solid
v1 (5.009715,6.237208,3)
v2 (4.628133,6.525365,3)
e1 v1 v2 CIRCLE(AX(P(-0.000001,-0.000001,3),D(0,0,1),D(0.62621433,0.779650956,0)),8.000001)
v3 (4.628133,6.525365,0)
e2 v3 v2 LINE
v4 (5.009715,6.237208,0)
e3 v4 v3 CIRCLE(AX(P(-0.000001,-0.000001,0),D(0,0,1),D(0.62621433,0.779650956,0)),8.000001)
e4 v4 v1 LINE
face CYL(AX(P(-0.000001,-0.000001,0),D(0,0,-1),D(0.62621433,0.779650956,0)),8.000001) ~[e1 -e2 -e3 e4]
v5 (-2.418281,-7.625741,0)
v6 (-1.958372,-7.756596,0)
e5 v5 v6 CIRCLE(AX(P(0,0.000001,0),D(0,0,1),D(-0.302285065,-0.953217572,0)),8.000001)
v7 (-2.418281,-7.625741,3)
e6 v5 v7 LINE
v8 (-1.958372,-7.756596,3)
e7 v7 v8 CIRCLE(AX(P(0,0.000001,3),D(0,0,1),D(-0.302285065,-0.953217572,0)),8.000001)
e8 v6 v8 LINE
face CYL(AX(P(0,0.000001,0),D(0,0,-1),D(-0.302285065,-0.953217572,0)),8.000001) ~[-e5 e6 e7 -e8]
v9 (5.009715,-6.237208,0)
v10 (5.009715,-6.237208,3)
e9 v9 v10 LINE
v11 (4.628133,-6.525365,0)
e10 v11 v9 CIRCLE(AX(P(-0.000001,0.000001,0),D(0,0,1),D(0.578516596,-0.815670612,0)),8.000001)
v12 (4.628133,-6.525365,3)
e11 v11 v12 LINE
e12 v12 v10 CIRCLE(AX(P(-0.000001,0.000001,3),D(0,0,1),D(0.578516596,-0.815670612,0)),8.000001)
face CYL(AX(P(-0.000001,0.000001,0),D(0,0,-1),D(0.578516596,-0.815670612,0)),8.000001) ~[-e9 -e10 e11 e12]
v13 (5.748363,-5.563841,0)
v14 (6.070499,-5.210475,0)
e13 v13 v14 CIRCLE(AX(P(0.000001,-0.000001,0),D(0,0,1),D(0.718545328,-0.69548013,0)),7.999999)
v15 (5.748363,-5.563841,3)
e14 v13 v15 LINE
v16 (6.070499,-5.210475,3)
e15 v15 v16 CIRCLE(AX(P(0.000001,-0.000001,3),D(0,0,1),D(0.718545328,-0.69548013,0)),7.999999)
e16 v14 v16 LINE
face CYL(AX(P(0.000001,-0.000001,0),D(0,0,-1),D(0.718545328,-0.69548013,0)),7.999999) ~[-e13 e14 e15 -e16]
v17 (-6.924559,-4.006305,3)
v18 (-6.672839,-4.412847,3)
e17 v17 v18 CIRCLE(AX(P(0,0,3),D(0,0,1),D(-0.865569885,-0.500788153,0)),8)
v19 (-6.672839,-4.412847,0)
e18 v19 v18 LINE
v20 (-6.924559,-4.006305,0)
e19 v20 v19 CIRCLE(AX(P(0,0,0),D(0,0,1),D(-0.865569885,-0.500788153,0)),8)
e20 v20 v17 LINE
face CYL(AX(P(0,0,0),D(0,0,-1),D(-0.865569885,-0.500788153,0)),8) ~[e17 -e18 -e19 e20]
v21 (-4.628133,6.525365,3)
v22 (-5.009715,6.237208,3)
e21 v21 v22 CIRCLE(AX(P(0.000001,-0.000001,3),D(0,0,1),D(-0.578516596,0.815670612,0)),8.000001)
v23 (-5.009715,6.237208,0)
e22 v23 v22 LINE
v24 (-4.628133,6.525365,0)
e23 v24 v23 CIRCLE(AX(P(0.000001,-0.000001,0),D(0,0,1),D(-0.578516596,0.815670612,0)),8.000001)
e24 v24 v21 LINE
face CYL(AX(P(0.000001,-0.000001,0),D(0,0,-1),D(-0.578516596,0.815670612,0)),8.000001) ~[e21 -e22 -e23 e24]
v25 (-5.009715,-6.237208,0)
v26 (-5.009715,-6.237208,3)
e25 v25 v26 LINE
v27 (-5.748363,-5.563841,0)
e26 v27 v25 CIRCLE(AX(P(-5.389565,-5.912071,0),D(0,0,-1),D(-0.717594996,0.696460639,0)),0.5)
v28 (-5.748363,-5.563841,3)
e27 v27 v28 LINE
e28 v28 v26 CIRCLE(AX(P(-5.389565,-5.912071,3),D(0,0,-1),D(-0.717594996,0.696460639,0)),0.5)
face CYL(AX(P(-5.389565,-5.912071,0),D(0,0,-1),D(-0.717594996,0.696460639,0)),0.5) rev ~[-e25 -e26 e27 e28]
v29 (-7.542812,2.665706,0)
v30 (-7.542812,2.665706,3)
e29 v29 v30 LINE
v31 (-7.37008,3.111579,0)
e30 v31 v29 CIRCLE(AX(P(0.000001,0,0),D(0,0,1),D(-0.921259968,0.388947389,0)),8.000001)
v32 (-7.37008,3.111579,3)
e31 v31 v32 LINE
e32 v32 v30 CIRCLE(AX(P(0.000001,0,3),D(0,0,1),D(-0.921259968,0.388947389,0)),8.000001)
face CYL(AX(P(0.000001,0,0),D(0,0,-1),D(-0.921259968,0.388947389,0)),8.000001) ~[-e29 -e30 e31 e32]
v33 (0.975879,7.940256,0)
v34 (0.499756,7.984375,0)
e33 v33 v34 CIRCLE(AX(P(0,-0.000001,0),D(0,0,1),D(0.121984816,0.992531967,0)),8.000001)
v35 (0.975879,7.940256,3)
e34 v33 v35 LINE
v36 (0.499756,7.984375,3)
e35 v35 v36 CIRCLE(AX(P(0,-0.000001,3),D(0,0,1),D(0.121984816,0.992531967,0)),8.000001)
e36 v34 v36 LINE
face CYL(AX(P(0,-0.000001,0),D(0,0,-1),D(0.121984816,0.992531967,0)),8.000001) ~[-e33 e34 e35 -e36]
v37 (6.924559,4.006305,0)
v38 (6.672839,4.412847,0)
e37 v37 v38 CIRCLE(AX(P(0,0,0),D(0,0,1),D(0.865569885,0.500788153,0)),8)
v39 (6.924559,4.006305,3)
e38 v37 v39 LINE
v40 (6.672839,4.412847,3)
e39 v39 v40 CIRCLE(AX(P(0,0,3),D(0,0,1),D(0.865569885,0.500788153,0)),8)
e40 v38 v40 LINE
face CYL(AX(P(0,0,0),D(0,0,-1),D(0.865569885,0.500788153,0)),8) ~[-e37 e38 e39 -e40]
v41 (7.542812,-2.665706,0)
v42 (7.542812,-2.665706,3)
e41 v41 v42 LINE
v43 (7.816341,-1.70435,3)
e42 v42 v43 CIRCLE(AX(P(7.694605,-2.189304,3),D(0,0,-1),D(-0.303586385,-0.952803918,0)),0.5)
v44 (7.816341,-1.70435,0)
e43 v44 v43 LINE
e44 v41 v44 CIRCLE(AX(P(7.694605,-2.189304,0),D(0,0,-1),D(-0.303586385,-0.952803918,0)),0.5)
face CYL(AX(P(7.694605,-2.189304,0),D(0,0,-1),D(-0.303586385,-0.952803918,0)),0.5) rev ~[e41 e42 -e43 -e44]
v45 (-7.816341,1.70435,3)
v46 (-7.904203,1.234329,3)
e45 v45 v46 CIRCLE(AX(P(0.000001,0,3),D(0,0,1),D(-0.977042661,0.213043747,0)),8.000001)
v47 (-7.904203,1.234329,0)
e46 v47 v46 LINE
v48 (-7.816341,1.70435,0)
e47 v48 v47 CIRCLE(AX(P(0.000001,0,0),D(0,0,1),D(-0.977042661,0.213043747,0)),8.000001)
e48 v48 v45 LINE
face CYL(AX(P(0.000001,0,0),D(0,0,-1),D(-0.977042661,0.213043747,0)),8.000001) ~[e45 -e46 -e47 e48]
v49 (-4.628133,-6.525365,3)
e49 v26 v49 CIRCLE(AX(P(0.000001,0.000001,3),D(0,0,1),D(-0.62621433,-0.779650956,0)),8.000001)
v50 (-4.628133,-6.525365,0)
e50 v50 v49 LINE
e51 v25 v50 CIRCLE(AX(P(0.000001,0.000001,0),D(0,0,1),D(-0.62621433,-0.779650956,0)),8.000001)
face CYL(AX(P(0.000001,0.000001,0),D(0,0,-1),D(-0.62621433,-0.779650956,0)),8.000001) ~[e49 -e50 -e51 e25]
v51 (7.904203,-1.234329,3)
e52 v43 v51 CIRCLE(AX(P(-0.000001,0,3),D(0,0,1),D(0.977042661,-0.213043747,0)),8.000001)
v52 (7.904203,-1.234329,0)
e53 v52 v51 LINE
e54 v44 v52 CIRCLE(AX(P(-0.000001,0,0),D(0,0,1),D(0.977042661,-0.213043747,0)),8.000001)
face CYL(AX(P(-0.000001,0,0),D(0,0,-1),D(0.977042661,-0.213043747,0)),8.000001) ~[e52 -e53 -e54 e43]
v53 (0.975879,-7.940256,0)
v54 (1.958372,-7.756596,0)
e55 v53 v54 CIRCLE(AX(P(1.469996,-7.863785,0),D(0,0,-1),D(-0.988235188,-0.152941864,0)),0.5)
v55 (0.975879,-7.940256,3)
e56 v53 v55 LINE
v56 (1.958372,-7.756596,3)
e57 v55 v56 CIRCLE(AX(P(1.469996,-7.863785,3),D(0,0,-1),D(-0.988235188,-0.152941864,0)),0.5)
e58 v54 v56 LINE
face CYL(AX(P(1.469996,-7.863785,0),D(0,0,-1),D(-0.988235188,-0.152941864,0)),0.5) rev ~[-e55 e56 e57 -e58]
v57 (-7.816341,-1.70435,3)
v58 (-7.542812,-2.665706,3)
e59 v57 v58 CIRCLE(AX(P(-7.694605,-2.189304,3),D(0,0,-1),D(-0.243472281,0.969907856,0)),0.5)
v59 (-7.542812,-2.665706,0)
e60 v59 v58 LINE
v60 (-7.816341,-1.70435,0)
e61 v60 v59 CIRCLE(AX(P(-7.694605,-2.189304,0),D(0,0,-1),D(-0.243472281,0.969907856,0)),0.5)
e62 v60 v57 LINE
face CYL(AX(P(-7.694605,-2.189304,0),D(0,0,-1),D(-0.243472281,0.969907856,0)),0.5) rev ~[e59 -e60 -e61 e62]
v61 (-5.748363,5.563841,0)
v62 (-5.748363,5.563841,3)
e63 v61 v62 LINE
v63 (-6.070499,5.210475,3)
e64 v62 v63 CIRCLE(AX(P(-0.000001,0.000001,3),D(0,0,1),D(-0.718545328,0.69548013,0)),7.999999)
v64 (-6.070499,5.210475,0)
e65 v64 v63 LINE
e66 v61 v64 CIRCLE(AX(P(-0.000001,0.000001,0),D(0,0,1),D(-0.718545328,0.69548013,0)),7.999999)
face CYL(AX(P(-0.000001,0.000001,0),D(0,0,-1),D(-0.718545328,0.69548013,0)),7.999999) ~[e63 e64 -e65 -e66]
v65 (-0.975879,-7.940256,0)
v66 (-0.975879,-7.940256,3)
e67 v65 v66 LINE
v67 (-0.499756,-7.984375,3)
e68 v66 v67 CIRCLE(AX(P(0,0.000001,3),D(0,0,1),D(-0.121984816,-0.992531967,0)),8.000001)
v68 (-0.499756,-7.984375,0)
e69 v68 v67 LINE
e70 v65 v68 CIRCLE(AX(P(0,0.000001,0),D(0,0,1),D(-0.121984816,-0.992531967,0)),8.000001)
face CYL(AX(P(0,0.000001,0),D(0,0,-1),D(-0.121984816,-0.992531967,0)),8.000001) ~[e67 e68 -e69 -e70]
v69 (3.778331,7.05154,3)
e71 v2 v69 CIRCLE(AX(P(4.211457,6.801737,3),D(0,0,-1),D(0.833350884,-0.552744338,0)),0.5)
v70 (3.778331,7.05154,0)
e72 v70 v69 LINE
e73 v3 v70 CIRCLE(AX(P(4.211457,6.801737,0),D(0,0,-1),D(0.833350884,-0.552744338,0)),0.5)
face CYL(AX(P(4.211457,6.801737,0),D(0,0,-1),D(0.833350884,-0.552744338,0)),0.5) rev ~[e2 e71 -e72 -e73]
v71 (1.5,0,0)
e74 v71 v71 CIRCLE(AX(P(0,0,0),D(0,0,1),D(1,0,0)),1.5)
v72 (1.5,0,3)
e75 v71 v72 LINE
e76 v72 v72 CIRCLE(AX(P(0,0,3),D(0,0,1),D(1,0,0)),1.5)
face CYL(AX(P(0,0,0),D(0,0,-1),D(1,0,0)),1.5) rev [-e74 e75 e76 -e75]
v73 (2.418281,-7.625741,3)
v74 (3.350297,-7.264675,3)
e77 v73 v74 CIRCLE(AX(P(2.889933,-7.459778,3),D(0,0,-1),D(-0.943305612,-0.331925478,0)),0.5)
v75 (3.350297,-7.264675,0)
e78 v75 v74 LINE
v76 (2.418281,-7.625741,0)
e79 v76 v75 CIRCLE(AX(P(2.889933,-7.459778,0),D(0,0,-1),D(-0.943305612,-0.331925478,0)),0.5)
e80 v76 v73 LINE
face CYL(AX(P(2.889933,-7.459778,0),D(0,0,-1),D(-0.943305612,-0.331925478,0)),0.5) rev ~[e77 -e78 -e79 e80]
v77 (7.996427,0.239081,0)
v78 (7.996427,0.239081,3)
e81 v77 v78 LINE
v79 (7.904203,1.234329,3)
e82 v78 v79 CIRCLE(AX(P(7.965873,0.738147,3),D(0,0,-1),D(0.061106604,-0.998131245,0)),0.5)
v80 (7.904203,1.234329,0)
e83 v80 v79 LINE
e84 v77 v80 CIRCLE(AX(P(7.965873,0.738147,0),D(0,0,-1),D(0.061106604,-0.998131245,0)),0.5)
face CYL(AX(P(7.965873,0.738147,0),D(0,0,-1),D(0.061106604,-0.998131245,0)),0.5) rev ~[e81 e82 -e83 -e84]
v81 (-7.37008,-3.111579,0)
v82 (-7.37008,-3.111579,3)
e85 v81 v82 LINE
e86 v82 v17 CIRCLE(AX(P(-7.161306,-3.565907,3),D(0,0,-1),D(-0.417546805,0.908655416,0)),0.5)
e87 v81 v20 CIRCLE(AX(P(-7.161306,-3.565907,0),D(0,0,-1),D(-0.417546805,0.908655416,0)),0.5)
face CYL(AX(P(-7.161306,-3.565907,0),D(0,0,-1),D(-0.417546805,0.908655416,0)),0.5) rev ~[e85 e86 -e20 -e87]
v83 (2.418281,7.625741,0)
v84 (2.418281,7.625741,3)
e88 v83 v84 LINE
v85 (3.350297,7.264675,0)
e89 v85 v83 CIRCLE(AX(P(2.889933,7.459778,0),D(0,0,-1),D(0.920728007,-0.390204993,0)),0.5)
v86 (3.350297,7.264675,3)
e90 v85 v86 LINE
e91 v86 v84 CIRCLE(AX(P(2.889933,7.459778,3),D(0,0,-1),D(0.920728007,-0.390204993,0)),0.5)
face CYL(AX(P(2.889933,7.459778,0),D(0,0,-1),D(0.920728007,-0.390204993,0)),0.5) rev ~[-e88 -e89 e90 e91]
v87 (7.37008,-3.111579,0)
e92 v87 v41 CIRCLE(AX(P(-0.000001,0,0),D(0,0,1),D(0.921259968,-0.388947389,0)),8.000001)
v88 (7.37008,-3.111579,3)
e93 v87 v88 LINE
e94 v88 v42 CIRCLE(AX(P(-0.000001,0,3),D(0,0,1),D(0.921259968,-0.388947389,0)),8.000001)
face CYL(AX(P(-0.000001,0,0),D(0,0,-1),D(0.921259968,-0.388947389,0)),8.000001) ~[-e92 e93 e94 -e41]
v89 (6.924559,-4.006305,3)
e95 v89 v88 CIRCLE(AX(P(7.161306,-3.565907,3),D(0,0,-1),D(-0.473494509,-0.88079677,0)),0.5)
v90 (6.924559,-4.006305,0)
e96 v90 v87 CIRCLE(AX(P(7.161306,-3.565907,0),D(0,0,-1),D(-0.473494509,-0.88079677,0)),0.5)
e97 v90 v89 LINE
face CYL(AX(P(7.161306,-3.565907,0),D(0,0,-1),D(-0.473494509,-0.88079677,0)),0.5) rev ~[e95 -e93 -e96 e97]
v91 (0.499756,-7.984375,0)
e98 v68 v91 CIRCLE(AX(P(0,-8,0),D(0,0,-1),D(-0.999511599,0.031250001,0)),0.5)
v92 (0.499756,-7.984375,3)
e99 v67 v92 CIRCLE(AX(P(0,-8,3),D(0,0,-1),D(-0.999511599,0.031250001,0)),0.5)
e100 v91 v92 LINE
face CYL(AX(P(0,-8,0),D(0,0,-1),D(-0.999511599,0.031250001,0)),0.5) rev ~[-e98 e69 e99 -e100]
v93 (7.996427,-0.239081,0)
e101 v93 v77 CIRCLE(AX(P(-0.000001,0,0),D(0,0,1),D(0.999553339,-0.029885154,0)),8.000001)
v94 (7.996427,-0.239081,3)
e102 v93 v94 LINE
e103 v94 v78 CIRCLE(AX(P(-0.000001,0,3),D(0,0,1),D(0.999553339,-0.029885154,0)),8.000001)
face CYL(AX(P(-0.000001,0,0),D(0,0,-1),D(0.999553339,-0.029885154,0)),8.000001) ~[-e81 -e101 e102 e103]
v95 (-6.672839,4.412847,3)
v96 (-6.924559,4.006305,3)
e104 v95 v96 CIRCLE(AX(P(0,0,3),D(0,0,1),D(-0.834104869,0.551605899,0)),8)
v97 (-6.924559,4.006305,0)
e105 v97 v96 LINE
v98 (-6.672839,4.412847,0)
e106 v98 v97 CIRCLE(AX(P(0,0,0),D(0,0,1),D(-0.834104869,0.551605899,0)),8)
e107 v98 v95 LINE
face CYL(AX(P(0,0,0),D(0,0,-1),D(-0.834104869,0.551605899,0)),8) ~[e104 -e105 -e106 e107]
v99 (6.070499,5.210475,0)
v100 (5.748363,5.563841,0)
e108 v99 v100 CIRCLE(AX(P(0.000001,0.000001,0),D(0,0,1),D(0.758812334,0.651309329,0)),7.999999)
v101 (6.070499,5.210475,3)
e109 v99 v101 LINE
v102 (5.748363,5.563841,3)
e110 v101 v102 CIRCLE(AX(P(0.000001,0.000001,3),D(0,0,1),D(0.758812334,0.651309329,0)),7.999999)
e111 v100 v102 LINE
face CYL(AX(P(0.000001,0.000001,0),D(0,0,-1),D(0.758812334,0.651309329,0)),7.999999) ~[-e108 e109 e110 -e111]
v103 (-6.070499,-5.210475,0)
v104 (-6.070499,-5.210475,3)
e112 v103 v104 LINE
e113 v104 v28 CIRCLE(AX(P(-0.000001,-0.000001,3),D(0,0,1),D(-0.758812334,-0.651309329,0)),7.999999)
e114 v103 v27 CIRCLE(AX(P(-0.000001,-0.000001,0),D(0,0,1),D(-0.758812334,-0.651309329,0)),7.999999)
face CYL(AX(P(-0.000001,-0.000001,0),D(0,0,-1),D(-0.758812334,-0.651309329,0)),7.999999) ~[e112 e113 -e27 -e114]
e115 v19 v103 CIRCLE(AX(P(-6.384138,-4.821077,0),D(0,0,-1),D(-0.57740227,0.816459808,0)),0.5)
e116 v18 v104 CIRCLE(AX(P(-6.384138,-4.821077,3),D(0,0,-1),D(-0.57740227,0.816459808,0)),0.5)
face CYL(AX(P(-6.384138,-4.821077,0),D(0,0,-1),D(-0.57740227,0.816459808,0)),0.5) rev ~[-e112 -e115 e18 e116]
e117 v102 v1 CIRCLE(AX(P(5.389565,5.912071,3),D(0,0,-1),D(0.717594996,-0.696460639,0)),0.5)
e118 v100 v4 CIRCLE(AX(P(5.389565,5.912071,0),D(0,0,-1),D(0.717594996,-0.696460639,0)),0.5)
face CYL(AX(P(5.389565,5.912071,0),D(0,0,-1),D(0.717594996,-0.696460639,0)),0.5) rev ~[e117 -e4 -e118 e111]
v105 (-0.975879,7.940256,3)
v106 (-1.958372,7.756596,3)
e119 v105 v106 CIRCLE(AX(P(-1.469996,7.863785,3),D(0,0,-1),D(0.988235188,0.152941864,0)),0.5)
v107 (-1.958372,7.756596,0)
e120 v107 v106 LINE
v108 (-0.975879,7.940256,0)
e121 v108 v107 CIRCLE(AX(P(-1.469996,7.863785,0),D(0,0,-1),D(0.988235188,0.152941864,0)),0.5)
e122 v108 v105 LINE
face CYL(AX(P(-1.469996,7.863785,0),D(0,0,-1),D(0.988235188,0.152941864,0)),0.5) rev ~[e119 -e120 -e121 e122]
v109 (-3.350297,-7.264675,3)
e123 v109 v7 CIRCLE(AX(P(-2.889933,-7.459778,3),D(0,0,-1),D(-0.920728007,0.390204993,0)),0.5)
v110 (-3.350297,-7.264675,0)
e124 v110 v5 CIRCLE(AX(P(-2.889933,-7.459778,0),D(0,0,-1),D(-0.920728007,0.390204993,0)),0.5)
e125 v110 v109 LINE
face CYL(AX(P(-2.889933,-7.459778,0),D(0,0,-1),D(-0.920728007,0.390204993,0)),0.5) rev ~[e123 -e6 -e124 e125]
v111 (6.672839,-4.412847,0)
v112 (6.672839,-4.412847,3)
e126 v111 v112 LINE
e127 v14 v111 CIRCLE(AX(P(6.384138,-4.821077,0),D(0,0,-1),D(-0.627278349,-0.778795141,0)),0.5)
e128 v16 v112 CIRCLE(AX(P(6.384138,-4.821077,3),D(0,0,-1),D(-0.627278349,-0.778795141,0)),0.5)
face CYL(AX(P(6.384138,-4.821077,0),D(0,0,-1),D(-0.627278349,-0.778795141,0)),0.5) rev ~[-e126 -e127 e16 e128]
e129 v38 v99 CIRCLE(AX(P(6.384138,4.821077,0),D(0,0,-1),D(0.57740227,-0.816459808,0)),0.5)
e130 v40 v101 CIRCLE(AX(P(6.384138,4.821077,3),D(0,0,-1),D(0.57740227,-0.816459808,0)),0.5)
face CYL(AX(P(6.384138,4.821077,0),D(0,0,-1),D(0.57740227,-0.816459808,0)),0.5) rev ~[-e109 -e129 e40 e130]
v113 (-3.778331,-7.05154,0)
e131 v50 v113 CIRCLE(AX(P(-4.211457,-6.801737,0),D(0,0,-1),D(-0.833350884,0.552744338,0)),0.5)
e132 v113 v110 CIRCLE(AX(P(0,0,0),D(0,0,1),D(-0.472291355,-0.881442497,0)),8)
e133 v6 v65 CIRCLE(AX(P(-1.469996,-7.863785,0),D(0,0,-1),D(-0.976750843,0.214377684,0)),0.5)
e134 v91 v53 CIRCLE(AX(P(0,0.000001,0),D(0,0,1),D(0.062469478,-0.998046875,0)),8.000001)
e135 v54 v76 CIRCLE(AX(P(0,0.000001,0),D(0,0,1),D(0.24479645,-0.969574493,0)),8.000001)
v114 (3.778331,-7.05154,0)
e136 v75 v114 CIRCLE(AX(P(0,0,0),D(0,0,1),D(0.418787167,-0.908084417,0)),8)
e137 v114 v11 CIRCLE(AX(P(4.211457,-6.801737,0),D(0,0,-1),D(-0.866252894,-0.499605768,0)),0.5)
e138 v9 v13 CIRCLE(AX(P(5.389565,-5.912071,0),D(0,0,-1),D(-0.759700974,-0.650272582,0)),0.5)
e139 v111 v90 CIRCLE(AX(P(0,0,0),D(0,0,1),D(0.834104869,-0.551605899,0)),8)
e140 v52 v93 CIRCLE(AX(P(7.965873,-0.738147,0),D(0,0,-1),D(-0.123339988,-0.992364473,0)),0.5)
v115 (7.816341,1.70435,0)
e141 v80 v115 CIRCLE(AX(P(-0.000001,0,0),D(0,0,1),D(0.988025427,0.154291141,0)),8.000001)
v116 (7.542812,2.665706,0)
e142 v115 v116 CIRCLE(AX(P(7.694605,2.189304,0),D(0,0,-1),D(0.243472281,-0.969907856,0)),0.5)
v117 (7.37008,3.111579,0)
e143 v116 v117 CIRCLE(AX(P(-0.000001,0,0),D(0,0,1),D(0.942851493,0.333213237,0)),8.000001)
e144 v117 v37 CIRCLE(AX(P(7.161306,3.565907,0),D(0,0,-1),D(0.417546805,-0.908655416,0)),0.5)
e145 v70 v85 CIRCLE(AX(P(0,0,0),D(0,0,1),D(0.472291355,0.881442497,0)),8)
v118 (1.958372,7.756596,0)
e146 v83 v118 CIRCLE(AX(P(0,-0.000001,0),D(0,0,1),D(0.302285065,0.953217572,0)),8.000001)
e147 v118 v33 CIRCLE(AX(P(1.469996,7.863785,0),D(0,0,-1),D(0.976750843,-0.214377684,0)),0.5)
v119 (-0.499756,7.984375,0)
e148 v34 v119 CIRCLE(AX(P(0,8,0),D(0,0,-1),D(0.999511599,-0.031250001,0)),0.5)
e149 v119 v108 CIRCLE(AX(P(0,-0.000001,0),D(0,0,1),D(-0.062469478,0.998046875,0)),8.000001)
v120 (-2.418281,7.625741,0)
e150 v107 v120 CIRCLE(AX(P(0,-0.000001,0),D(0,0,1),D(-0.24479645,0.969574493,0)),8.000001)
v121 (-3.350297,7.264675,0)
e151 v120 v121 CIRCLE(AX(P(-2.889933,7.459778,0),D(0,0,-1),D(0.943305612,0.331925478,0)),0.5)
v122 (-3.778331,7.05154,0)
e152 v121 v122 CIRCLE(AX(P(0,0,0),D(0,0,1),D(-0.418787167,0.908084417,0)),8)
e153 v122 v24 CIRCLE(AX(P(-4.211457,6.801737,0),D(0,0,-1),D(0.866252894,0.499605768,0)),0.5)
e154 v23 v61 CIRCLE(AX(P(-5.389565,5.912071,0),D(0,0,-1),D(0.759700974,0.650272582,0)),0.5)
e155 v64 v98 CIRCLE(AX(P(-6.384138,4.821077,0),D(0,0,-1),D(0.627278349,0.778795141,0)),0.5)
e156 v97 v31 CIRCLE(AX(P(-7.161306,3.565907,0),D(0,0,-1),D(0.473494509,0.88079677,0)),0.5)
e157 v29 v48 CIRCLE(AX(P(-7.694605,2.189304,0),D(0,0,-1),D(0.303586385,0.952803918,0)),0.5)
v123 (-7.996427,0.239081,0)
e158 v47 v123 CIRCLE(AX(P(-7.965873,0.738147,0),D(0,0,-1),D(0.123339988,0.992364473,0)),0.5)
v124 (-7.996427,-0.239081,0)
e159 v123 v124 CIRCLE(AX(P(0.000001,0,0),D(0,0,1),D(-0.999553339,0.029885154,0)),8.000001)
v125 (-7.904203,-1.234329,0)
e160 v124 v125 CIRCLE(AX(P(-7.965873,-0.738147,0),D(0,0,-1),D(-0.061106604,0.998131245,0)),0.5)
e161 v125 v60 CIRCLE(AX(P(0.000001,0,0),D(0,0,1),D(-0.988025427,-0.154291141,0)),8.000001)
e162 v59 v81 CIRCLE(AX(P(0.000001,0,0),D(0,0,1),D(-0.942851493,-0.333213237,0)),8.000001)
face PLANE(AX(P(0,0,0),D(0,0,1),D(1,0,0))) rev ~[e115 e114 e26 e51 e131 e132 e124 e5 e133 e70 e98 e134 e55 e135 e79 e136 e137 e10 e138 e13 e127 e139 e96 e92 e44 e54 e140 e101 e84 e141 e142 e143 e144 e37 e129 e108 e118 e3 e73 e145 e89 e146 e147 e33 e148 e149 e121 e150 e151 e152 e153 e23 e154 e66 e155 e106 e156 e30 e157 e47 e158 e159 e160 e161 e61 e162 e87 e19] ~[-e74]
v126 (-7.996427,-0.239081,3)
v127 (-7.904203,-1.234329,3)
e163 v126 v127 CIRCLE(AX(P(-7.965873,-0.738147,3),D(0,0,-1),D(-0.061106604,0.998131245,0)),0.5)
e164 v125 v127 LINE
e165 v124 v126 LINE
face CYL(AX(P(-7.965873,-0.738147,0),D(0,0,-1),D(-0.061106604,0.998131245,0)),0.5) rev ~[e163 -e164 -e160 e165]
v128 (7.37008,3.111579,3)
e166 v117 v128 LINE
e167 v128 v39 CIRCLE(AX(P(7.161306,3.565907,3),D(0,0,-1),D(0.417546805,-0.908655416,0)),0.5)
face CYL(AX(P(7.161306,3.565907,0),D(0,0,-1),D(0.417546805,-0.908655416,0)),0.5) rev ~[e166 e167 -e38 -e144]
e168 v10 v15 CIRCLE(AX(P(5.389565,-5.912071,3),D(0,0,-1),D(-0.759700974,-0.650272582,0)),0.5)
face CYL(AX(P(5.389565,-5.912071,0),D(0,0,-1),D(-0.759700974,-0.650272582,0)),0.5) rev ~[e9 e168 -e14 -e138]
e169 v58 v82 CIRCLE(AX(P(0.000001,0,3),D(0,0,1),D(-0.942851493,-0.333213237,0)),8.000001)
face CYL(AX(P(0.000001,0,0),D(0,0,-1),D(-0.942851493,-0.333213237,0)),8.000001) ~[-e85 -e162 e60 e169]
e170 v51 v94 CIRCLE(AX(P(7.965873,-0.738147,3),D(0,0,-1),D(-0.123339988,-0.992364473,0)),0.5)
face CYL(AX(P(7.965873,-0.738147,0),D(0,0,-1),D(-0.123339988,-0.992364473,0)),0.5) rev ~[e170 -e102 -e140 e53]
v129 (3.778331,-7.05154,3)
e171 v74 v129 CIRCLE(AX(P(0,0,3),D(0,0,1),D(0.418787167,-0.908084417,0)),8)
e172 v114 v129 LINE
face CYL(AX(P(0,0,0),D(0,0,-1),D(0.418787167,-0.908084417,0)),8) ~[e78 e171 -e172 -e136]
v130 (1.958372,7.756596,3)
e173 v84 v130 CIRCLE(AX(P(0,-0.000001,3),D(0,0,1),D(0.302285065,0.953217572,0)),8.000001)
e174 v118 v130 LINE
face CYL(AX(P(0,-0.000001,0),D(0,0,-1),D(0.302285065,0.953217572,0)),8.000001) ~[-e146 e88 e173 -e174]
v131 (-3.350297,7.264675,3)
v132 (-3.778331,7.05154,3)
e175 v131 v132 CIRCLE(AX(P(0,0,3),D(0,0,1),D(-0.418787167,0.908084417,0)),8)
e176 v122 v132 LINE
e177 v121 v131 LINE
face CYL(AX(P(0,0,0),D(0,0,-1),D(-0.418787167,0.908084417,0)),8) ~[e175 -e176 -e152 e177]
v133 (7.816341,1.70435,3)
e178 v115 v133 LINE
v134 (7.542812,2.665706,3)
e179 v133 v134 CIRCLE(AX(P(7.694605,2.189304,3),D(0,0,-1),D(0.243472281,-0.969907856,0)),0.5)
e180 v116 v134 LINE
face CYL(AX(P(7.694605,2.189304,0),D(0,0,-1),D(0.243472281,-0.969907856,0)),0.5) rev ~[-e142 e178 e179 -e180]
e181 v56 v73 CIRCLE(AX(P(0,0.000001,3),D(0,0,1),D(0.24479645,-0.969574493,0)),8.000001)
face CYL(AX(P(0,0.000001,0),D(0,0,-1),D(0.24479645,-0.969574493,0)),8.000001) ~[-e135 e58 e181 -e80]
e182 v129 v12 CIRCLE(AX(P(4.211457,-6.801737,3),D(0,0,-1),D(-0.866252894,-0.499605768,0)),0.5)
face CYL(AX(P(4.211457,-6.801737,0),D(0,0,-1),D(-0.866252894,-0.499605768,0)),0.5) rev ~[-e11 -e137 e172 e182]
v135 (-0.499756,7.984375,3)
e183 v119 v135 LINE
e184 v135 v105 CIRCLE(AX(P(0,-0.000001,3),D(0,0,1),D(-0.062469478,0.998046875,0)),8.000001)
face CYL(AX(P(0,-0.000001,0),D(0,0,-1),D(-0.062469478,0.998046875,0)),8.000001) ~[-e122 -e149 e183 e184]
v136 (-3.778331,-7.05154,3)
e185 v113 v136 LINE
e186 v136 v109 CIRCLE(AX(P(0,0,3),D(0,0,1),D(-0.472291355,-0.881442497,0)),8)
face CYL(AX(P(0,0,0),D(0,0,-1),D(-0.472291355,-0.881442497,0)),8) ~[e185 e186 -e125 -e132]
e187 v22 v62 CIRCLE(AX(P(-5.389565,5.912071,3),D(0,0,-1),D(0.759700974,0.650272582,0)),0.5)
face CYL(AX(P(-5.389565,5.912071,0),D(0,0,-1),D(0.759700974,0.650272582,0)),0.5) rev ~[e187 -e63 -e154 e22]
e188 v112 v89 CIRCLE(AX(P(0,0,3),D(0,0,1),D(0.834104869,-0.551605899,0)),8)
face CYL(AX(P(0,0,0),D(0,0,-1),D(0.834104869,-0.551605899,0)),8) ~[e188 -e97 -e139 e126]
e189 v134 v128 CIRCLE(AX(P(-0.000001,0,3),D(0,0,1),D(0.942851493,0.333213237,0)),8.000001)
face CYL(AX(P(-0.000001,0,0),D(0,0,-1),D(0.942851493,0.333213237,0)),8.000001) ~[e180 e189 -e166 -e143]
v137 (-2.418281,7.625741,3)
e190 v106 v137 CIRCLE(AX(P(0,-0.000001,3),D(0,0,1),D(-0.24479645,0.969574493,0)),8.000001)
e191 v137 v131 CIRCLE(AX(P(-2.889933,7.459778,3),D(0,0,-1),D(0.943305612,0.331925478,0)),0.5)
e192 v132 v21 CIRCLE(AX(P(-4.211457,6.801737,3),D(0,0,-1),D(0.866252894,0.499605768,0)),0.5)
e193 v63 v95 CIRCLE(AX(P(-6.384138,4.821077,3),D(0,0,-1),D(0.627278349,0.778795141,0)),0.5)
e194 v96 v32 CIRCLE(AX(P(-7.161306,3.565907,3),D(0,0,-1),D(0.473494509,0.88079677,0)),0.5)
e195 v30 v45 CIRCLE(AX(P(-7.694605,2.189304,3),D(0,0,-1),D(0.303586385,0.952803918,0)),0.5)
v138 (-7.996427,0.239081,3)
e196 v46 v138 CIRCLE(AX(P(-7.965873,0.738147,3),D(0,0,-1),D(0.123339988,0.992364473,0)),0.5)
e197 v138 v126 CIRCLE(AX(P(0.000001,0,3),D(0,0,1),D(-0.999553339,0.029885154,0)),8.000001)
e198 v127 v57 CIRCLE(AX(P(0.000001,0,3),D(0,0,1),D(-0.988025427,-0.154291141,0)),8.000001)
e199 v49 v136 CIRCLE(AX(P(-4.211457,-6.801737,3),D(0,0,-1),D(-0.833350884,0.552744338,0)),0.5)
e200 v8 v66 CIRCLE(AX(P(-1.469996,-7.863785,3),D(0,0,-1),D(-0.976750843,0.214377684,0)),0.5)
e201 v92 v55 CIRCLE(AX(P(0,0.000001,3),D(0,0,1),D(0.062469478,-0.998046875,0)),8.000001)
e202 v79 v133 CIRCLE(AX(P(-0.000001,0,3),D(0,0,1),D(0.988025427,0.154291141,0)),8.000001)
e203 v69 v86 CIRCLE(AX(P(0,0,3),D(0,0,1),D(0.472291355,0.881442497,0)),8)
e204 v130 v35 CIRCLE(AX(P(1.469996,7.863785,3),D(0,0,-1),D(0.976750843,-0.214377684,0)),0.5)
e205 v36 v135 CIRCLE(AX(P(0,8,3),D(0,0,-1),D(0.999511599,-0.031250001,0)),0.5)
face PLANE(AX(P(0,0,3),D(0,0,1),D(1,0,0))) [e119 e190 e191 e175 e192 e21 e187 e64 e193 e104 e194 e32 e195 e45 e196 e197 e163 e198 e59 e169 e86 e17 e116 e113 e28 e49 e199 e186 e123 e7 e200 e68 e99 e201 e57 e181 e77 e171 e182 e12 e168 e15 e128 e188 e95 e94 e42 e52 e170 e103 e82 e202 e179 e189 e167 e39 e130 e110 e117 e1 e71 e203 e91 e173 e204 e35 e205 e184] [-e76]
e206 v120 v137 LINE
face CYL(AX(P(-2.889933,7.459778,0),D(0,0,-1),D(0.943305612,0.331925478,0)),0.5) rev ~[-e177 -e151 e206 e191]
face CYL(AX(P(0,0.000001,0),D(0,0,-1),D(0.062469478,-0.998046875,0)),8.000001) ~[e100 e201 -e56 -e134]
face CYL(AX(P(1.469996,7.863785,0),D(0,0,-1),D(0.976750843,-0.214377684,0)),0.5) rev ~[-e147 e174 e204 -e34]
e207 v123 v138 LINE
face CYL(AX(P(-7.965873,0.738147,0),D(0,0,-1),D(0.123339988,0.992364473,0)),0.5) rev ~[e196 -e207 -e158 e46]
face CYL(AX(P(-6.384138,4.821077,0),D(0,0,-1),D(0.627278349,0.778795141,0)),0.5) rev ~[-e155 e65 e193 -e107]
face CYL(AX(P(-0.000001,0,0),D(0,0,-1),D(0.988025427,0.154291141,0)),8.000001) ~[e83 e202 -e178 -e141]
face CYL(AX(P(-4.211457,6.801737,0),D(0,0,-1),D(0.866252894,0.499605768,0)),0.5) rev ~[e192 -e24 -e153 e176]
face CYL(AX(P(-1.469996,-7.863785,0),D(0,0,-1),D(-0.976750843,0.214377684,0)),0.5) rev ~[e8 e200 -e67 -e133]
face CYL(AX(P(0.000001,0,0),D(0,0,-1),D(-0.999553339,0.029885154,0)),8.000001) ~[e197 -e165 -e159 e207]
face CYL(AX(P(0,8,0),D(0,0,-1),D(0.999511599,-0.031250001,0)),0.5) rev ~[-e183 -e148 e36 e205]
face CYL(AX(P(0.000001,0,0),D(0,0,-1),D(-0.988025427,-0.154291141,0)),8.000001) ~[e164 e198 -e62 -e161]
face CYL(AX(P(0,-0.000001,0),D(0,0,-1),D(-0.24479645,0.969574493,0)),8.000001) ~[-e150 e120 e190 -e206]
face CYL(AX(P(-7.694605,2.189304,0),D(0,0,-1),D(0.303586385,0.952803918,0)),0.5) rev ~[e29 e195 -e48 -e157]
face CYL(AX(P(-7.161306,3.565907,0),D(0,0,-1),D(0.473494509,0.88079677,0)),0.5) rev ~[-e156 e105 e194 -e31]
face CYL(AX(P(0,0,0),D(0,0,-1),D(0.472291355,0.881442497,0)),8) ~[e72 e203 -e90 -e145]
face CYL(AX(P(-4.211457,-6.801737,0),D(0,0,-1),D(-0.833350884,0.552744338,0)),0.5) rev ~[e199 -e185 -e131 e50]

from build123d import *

# Parameters (mm, degrees)
SKETCH1_R           = 1.5
BOSS_EXTRUDE1_DEPTH = 3


with BuildPart() as part:
    # Sketch1 → Boss-Extrude1 (new body)
    with BuildSketch(Plane.XY):
        with BuildLine():
            ThreePointArc((-0.4997558, 7.984375), (-0.738146876, 7.96587341), (-0.975878549, 7.94025573))
            ThreePointArc((-0.975878549, 7.94025573), (-1.378121384, 7.372298248), (-1.958371564, 7.756595956))
            ThreePointArc((-1.958371564, 7.756595956), (-2.189303921, 7.694605145), (-2.418280524, 7.625740574))
            ThreePointArc((-2.418280524, 7.625740574), (-2.709312496, 6.993541721), (-3.350297333, 7.264675339))
            ThreePointArc((-3.350297333, 7.264675339), (-3.565906846, 7.161306331), (-3.778330856, 7.05153997))
            ThreePointArc((-3.778330856, 7.05153997), (-3.948241222, 6.376628518), (-4.628132745, 6.525364917))
            ThreePointArc((-4.628132745, 6.525364917), (-4.821077091, 6.384137818), (-5.009714662, 6.237207629))
            ThreePointArc((-5.009714662, 6.237207629), (-5.052717327, 5.542566879), (-5.748362647, 5.563841018))
            ThreePointArc((-5.748362647, 5.563841018), (-5.912071338, 5.389565149), (-6.070498644, 5.210474662))
            ThreePointArc((-6.070498644, 5.210474662), (-5.985129205, 4.519759773), (-6.672838954, 4.412847187))
            ThreePointArc((-6.672838954, 4.412847187), (-6.801737086, 4.211457303), (-6.924559076, 4.006305231))
            ThreePointArc((-6.924559076, 4.006305231), (-6.713724685, 3.343037668), (-7.370079733, 3.111579138))
            ThreePointArc((-7.370079733, 3.111579138), (-7.459777835, 2.889933329), (-7.542811953, 2.66570588))
            ThreePointArc((-7.542811953, 2.66570588), (-7.213692324, 2.052472426), (-7.816341286, 1.704349993))
            ThreePointArc((-7.816341286, 1.704349993), (-7.863784797, 1.469996143), (-7.904203416, 1.234329112))
            ThreePointArc((-7.904203416, 1.234329112), (-7.468006322, 0.692012696), (-7.996426712, 0.239081253))
            ThreePointArc((-7.996426712, 0.239081253), (-8, 0), (-7.996426712, -0.239081253))
            ThreePointArc((-7.996426712, -0.239081253), (-7.468006322, -0.692012696), (-7.904203416, -1.234329112))
            ThreePointArc((-7.904203416, -1.234329112), (-7.863784797, -1.469996143), (-7.816341286, -1.704349993))
            ThreePointArc((-7.816341286, -1.704349993), (-7.213692324, -2.052472426), (-7.542811953, -2.66570588))
            ThreePointArc((-7.542811953, -2.66570588), (-7.459777835, -2.889933329), (-7.370079733, -3.111579138))
            ThreePointArc((-7.370079733, -3.111579138), (-6.713724685, -3.343037668), (-6.924559076, -4.006305231))
            ThreePointArc((-6.924559076, -4.006305231), (-6.801737086, -4.211457303), (-6.672838954, -4.412847187))
            ThreePointArc((-6.672838954, -4.412847187), (-5.985129205, -4.519759773), (-6.070498644, -5.210474662))
            ThreePointArc((-6.070498644, -5.210474662), (-5.912071338, -5.389565149), (-5.748362647, -5.563841018))
            ThreePointArc((-5.748362647, -5.563841018), (-5.052717327, -5.542566879), (-5.009714662, -6.237207629))
            ThreePointArc((-5.009714662, -6.237207629), (-4.821077091, -6.384137818), (-4.628132745, -6.525364917))
            ThreePointArc((-4.628132745, -6.525364917), (-3.948241222, -6.376628518), (-3.778330856, -7.05153997))
            ThreePointArc((-3.778330856, -7.05153997), (-3.565906846, -7.161306331), (-3.350297333, -7.264675339))
            ThreePointArc((-3.350297333, -7.264675339), (-2.709312496, -6.993541721), (-2.418280524, -7.625740574))
            ThreePointArc((-2.418280524, -7.625740574), (-2.189303921, -7.694605145), (-1.958371564, -7.756595956))
            ThreePointArc((-1.958371564, -7.756595956), (-1.378121384, -7.372298248), (-0.975878549, -7.94025573))
            ThreePointArc((-0.975878549, -7.94025573), (-0.738146876, -7.96587341), (-0.4997558, -7.984375))
            ThreePointArc((-0.4997558, -7.984375), (0, -7.5), (0.4997558, -7.984375))
            ThreePointArc((0.4997558, -7.984375), (0.738146876, -7.96587341), (0.975878549, -7.94025573))
            ThreePointArc((0.975878549, -7.94025573), (1.378121384, -7.372298248), (1.958371564, -7.756595956))
            ThreePointArc((1.958371564, -7.756595956), (2.189303921, -7.694605145), (2.418280524, -7.625740574))
            ThreePointArc((2.418280524, -7.625740574), (2.709312496, -6.993541721), (3.350297333, -7.264675339))
            ThreePointArc((3.350297333, -7.264675339), (3.565906846, -7.161306331), (3.778330856, -7.05153997))
            ThreePointArc((3.778330856, -7.05153997), (3.948241222, -6.376628518), (4.628132745, -6.525364917))
            ThreePointArc((4.628132745, -6.525364917), (4.821077091, -6.384137818), (5.009714662, -6.237207629))
            ThreePointArc((5.009714662, -6.237207629), (5.052717327, -5.542566879), (5.748362647, -5.563841018))
            ThreePointArc((5.748362647, -5.563841018), (5.912071338, -5.389565149), (6.070498644, -5.210474662))
            ThreePointArc((6.070498644, -5.210474662), (5.985129205, -4.519759773), (6.672838954, -4.412847187))
            ThreePointArc((6.672838954, -4.412847187), (6.801737086, -4.211457303), (6.924559076, -4.006305231))
            ThreePointArc((6.924559076, -4.006305231), (6.713724685, -3.343037668), (7.370079733, -3.111579138))
            ThreePointArc((7.370079733, -3.111579138), (7.459777835, -2.889933329), (7.542811953, -2.66570588))
            ThreePointArc((7.542811953, -2.66570588), (7.213692324, -2.052472426), (7.816341286, -1.704349993))
            ThreePointArc((7.816341286, -1.704349993), (7.863784797, -1.469996143), (7.904203416, -1.234329112))
            ThreePointArc((7.904203416, -1.234329112), (7.468006322, -0.692012696), (7.996426712, -0.239081253))
            ThreePointArc((7.996426712, -0.239081253), (8, 0), (7.996426712, 0.239081253))
            ThreePointArc((7.996426712, 0.239081253), (7.468006322, 0.692012696), (7.904203416, 1.234329112))
            ThreePointArc((7.904203416, 1.234329112), (7.863784797, 1.469996143), (7.816341286, 1.704349993))
            ThreePointArc((7.816341286, 1.704349993), (7.213692324, 2.052472426), (7.542811953, 2.66570588))
            ThreePointArc((7.542811953, 2.66570588), (7.459777835, 2.889933329), (7.370079733, 3.111579138))
            ThreePointArc((7.370079733, 3.111579138), (6.713724685, 3.343037668), (6.924559076, 4.006305231))
            ThreePointArc((6.924559076, 4.006305231), (6.801737086, 4.211457303), (6.672838954, 4.412847187))
            ThreePointArc((6.672838954, 4.412847187), (5.985129205, 4.519759773), (6.070498644, 5.210474662))
            ThreePointArc((6.070498644, 5.210474662), (5.912071338, 5.389565149), (5.748362647, 5.563841018))
            ThreePointArc((5.748362647, 5.563841018), (5.052717327, 5.542566879), (5.009714662, 6.237207629))
            ThreePointArc((5.009714662, 6.237207629), (4.821077091, 6.384137818), (4.628132745, 6.525364917))
            ThreePointArc((4.628132745, 6.525364917), (3.948241222, 6.376628518), (3.778330856, 7.05153997))
            ThreePointArc((3.778330856, 7.05153997), (3.565906846, 7.161306331), (3.350297333, 7.264675339))
            ThreePointArc((3.350297333, 7.264675339), (2.709312496, 6.993541721), (2.418280524, 7.625740574))
            ThreePointArc((2.418280524, 7.625740574), (2.189303921, 7.694605145), (1.958371564, 7.756595956))
            ThreePointArc((1.958371564, 7.756595956), (1.378121384, 7.372298248), (0.975878549, 7.94025573))
            ThreePointArc((0.975878549, 7.94025573), (0.738146876, 7.96587341), (0.4997558, 7.984375))
            ThreePointArc((0.4997558, 7.984375), (0, 7.5), (-0.4997558, 7.984375))
        make_face()
        Circle(SKETCH1_R, mode=Mode.SUBTRACT)
    extrude(amount=BOSS_EXTRUDE1_DEPTH)


solid = part.part
